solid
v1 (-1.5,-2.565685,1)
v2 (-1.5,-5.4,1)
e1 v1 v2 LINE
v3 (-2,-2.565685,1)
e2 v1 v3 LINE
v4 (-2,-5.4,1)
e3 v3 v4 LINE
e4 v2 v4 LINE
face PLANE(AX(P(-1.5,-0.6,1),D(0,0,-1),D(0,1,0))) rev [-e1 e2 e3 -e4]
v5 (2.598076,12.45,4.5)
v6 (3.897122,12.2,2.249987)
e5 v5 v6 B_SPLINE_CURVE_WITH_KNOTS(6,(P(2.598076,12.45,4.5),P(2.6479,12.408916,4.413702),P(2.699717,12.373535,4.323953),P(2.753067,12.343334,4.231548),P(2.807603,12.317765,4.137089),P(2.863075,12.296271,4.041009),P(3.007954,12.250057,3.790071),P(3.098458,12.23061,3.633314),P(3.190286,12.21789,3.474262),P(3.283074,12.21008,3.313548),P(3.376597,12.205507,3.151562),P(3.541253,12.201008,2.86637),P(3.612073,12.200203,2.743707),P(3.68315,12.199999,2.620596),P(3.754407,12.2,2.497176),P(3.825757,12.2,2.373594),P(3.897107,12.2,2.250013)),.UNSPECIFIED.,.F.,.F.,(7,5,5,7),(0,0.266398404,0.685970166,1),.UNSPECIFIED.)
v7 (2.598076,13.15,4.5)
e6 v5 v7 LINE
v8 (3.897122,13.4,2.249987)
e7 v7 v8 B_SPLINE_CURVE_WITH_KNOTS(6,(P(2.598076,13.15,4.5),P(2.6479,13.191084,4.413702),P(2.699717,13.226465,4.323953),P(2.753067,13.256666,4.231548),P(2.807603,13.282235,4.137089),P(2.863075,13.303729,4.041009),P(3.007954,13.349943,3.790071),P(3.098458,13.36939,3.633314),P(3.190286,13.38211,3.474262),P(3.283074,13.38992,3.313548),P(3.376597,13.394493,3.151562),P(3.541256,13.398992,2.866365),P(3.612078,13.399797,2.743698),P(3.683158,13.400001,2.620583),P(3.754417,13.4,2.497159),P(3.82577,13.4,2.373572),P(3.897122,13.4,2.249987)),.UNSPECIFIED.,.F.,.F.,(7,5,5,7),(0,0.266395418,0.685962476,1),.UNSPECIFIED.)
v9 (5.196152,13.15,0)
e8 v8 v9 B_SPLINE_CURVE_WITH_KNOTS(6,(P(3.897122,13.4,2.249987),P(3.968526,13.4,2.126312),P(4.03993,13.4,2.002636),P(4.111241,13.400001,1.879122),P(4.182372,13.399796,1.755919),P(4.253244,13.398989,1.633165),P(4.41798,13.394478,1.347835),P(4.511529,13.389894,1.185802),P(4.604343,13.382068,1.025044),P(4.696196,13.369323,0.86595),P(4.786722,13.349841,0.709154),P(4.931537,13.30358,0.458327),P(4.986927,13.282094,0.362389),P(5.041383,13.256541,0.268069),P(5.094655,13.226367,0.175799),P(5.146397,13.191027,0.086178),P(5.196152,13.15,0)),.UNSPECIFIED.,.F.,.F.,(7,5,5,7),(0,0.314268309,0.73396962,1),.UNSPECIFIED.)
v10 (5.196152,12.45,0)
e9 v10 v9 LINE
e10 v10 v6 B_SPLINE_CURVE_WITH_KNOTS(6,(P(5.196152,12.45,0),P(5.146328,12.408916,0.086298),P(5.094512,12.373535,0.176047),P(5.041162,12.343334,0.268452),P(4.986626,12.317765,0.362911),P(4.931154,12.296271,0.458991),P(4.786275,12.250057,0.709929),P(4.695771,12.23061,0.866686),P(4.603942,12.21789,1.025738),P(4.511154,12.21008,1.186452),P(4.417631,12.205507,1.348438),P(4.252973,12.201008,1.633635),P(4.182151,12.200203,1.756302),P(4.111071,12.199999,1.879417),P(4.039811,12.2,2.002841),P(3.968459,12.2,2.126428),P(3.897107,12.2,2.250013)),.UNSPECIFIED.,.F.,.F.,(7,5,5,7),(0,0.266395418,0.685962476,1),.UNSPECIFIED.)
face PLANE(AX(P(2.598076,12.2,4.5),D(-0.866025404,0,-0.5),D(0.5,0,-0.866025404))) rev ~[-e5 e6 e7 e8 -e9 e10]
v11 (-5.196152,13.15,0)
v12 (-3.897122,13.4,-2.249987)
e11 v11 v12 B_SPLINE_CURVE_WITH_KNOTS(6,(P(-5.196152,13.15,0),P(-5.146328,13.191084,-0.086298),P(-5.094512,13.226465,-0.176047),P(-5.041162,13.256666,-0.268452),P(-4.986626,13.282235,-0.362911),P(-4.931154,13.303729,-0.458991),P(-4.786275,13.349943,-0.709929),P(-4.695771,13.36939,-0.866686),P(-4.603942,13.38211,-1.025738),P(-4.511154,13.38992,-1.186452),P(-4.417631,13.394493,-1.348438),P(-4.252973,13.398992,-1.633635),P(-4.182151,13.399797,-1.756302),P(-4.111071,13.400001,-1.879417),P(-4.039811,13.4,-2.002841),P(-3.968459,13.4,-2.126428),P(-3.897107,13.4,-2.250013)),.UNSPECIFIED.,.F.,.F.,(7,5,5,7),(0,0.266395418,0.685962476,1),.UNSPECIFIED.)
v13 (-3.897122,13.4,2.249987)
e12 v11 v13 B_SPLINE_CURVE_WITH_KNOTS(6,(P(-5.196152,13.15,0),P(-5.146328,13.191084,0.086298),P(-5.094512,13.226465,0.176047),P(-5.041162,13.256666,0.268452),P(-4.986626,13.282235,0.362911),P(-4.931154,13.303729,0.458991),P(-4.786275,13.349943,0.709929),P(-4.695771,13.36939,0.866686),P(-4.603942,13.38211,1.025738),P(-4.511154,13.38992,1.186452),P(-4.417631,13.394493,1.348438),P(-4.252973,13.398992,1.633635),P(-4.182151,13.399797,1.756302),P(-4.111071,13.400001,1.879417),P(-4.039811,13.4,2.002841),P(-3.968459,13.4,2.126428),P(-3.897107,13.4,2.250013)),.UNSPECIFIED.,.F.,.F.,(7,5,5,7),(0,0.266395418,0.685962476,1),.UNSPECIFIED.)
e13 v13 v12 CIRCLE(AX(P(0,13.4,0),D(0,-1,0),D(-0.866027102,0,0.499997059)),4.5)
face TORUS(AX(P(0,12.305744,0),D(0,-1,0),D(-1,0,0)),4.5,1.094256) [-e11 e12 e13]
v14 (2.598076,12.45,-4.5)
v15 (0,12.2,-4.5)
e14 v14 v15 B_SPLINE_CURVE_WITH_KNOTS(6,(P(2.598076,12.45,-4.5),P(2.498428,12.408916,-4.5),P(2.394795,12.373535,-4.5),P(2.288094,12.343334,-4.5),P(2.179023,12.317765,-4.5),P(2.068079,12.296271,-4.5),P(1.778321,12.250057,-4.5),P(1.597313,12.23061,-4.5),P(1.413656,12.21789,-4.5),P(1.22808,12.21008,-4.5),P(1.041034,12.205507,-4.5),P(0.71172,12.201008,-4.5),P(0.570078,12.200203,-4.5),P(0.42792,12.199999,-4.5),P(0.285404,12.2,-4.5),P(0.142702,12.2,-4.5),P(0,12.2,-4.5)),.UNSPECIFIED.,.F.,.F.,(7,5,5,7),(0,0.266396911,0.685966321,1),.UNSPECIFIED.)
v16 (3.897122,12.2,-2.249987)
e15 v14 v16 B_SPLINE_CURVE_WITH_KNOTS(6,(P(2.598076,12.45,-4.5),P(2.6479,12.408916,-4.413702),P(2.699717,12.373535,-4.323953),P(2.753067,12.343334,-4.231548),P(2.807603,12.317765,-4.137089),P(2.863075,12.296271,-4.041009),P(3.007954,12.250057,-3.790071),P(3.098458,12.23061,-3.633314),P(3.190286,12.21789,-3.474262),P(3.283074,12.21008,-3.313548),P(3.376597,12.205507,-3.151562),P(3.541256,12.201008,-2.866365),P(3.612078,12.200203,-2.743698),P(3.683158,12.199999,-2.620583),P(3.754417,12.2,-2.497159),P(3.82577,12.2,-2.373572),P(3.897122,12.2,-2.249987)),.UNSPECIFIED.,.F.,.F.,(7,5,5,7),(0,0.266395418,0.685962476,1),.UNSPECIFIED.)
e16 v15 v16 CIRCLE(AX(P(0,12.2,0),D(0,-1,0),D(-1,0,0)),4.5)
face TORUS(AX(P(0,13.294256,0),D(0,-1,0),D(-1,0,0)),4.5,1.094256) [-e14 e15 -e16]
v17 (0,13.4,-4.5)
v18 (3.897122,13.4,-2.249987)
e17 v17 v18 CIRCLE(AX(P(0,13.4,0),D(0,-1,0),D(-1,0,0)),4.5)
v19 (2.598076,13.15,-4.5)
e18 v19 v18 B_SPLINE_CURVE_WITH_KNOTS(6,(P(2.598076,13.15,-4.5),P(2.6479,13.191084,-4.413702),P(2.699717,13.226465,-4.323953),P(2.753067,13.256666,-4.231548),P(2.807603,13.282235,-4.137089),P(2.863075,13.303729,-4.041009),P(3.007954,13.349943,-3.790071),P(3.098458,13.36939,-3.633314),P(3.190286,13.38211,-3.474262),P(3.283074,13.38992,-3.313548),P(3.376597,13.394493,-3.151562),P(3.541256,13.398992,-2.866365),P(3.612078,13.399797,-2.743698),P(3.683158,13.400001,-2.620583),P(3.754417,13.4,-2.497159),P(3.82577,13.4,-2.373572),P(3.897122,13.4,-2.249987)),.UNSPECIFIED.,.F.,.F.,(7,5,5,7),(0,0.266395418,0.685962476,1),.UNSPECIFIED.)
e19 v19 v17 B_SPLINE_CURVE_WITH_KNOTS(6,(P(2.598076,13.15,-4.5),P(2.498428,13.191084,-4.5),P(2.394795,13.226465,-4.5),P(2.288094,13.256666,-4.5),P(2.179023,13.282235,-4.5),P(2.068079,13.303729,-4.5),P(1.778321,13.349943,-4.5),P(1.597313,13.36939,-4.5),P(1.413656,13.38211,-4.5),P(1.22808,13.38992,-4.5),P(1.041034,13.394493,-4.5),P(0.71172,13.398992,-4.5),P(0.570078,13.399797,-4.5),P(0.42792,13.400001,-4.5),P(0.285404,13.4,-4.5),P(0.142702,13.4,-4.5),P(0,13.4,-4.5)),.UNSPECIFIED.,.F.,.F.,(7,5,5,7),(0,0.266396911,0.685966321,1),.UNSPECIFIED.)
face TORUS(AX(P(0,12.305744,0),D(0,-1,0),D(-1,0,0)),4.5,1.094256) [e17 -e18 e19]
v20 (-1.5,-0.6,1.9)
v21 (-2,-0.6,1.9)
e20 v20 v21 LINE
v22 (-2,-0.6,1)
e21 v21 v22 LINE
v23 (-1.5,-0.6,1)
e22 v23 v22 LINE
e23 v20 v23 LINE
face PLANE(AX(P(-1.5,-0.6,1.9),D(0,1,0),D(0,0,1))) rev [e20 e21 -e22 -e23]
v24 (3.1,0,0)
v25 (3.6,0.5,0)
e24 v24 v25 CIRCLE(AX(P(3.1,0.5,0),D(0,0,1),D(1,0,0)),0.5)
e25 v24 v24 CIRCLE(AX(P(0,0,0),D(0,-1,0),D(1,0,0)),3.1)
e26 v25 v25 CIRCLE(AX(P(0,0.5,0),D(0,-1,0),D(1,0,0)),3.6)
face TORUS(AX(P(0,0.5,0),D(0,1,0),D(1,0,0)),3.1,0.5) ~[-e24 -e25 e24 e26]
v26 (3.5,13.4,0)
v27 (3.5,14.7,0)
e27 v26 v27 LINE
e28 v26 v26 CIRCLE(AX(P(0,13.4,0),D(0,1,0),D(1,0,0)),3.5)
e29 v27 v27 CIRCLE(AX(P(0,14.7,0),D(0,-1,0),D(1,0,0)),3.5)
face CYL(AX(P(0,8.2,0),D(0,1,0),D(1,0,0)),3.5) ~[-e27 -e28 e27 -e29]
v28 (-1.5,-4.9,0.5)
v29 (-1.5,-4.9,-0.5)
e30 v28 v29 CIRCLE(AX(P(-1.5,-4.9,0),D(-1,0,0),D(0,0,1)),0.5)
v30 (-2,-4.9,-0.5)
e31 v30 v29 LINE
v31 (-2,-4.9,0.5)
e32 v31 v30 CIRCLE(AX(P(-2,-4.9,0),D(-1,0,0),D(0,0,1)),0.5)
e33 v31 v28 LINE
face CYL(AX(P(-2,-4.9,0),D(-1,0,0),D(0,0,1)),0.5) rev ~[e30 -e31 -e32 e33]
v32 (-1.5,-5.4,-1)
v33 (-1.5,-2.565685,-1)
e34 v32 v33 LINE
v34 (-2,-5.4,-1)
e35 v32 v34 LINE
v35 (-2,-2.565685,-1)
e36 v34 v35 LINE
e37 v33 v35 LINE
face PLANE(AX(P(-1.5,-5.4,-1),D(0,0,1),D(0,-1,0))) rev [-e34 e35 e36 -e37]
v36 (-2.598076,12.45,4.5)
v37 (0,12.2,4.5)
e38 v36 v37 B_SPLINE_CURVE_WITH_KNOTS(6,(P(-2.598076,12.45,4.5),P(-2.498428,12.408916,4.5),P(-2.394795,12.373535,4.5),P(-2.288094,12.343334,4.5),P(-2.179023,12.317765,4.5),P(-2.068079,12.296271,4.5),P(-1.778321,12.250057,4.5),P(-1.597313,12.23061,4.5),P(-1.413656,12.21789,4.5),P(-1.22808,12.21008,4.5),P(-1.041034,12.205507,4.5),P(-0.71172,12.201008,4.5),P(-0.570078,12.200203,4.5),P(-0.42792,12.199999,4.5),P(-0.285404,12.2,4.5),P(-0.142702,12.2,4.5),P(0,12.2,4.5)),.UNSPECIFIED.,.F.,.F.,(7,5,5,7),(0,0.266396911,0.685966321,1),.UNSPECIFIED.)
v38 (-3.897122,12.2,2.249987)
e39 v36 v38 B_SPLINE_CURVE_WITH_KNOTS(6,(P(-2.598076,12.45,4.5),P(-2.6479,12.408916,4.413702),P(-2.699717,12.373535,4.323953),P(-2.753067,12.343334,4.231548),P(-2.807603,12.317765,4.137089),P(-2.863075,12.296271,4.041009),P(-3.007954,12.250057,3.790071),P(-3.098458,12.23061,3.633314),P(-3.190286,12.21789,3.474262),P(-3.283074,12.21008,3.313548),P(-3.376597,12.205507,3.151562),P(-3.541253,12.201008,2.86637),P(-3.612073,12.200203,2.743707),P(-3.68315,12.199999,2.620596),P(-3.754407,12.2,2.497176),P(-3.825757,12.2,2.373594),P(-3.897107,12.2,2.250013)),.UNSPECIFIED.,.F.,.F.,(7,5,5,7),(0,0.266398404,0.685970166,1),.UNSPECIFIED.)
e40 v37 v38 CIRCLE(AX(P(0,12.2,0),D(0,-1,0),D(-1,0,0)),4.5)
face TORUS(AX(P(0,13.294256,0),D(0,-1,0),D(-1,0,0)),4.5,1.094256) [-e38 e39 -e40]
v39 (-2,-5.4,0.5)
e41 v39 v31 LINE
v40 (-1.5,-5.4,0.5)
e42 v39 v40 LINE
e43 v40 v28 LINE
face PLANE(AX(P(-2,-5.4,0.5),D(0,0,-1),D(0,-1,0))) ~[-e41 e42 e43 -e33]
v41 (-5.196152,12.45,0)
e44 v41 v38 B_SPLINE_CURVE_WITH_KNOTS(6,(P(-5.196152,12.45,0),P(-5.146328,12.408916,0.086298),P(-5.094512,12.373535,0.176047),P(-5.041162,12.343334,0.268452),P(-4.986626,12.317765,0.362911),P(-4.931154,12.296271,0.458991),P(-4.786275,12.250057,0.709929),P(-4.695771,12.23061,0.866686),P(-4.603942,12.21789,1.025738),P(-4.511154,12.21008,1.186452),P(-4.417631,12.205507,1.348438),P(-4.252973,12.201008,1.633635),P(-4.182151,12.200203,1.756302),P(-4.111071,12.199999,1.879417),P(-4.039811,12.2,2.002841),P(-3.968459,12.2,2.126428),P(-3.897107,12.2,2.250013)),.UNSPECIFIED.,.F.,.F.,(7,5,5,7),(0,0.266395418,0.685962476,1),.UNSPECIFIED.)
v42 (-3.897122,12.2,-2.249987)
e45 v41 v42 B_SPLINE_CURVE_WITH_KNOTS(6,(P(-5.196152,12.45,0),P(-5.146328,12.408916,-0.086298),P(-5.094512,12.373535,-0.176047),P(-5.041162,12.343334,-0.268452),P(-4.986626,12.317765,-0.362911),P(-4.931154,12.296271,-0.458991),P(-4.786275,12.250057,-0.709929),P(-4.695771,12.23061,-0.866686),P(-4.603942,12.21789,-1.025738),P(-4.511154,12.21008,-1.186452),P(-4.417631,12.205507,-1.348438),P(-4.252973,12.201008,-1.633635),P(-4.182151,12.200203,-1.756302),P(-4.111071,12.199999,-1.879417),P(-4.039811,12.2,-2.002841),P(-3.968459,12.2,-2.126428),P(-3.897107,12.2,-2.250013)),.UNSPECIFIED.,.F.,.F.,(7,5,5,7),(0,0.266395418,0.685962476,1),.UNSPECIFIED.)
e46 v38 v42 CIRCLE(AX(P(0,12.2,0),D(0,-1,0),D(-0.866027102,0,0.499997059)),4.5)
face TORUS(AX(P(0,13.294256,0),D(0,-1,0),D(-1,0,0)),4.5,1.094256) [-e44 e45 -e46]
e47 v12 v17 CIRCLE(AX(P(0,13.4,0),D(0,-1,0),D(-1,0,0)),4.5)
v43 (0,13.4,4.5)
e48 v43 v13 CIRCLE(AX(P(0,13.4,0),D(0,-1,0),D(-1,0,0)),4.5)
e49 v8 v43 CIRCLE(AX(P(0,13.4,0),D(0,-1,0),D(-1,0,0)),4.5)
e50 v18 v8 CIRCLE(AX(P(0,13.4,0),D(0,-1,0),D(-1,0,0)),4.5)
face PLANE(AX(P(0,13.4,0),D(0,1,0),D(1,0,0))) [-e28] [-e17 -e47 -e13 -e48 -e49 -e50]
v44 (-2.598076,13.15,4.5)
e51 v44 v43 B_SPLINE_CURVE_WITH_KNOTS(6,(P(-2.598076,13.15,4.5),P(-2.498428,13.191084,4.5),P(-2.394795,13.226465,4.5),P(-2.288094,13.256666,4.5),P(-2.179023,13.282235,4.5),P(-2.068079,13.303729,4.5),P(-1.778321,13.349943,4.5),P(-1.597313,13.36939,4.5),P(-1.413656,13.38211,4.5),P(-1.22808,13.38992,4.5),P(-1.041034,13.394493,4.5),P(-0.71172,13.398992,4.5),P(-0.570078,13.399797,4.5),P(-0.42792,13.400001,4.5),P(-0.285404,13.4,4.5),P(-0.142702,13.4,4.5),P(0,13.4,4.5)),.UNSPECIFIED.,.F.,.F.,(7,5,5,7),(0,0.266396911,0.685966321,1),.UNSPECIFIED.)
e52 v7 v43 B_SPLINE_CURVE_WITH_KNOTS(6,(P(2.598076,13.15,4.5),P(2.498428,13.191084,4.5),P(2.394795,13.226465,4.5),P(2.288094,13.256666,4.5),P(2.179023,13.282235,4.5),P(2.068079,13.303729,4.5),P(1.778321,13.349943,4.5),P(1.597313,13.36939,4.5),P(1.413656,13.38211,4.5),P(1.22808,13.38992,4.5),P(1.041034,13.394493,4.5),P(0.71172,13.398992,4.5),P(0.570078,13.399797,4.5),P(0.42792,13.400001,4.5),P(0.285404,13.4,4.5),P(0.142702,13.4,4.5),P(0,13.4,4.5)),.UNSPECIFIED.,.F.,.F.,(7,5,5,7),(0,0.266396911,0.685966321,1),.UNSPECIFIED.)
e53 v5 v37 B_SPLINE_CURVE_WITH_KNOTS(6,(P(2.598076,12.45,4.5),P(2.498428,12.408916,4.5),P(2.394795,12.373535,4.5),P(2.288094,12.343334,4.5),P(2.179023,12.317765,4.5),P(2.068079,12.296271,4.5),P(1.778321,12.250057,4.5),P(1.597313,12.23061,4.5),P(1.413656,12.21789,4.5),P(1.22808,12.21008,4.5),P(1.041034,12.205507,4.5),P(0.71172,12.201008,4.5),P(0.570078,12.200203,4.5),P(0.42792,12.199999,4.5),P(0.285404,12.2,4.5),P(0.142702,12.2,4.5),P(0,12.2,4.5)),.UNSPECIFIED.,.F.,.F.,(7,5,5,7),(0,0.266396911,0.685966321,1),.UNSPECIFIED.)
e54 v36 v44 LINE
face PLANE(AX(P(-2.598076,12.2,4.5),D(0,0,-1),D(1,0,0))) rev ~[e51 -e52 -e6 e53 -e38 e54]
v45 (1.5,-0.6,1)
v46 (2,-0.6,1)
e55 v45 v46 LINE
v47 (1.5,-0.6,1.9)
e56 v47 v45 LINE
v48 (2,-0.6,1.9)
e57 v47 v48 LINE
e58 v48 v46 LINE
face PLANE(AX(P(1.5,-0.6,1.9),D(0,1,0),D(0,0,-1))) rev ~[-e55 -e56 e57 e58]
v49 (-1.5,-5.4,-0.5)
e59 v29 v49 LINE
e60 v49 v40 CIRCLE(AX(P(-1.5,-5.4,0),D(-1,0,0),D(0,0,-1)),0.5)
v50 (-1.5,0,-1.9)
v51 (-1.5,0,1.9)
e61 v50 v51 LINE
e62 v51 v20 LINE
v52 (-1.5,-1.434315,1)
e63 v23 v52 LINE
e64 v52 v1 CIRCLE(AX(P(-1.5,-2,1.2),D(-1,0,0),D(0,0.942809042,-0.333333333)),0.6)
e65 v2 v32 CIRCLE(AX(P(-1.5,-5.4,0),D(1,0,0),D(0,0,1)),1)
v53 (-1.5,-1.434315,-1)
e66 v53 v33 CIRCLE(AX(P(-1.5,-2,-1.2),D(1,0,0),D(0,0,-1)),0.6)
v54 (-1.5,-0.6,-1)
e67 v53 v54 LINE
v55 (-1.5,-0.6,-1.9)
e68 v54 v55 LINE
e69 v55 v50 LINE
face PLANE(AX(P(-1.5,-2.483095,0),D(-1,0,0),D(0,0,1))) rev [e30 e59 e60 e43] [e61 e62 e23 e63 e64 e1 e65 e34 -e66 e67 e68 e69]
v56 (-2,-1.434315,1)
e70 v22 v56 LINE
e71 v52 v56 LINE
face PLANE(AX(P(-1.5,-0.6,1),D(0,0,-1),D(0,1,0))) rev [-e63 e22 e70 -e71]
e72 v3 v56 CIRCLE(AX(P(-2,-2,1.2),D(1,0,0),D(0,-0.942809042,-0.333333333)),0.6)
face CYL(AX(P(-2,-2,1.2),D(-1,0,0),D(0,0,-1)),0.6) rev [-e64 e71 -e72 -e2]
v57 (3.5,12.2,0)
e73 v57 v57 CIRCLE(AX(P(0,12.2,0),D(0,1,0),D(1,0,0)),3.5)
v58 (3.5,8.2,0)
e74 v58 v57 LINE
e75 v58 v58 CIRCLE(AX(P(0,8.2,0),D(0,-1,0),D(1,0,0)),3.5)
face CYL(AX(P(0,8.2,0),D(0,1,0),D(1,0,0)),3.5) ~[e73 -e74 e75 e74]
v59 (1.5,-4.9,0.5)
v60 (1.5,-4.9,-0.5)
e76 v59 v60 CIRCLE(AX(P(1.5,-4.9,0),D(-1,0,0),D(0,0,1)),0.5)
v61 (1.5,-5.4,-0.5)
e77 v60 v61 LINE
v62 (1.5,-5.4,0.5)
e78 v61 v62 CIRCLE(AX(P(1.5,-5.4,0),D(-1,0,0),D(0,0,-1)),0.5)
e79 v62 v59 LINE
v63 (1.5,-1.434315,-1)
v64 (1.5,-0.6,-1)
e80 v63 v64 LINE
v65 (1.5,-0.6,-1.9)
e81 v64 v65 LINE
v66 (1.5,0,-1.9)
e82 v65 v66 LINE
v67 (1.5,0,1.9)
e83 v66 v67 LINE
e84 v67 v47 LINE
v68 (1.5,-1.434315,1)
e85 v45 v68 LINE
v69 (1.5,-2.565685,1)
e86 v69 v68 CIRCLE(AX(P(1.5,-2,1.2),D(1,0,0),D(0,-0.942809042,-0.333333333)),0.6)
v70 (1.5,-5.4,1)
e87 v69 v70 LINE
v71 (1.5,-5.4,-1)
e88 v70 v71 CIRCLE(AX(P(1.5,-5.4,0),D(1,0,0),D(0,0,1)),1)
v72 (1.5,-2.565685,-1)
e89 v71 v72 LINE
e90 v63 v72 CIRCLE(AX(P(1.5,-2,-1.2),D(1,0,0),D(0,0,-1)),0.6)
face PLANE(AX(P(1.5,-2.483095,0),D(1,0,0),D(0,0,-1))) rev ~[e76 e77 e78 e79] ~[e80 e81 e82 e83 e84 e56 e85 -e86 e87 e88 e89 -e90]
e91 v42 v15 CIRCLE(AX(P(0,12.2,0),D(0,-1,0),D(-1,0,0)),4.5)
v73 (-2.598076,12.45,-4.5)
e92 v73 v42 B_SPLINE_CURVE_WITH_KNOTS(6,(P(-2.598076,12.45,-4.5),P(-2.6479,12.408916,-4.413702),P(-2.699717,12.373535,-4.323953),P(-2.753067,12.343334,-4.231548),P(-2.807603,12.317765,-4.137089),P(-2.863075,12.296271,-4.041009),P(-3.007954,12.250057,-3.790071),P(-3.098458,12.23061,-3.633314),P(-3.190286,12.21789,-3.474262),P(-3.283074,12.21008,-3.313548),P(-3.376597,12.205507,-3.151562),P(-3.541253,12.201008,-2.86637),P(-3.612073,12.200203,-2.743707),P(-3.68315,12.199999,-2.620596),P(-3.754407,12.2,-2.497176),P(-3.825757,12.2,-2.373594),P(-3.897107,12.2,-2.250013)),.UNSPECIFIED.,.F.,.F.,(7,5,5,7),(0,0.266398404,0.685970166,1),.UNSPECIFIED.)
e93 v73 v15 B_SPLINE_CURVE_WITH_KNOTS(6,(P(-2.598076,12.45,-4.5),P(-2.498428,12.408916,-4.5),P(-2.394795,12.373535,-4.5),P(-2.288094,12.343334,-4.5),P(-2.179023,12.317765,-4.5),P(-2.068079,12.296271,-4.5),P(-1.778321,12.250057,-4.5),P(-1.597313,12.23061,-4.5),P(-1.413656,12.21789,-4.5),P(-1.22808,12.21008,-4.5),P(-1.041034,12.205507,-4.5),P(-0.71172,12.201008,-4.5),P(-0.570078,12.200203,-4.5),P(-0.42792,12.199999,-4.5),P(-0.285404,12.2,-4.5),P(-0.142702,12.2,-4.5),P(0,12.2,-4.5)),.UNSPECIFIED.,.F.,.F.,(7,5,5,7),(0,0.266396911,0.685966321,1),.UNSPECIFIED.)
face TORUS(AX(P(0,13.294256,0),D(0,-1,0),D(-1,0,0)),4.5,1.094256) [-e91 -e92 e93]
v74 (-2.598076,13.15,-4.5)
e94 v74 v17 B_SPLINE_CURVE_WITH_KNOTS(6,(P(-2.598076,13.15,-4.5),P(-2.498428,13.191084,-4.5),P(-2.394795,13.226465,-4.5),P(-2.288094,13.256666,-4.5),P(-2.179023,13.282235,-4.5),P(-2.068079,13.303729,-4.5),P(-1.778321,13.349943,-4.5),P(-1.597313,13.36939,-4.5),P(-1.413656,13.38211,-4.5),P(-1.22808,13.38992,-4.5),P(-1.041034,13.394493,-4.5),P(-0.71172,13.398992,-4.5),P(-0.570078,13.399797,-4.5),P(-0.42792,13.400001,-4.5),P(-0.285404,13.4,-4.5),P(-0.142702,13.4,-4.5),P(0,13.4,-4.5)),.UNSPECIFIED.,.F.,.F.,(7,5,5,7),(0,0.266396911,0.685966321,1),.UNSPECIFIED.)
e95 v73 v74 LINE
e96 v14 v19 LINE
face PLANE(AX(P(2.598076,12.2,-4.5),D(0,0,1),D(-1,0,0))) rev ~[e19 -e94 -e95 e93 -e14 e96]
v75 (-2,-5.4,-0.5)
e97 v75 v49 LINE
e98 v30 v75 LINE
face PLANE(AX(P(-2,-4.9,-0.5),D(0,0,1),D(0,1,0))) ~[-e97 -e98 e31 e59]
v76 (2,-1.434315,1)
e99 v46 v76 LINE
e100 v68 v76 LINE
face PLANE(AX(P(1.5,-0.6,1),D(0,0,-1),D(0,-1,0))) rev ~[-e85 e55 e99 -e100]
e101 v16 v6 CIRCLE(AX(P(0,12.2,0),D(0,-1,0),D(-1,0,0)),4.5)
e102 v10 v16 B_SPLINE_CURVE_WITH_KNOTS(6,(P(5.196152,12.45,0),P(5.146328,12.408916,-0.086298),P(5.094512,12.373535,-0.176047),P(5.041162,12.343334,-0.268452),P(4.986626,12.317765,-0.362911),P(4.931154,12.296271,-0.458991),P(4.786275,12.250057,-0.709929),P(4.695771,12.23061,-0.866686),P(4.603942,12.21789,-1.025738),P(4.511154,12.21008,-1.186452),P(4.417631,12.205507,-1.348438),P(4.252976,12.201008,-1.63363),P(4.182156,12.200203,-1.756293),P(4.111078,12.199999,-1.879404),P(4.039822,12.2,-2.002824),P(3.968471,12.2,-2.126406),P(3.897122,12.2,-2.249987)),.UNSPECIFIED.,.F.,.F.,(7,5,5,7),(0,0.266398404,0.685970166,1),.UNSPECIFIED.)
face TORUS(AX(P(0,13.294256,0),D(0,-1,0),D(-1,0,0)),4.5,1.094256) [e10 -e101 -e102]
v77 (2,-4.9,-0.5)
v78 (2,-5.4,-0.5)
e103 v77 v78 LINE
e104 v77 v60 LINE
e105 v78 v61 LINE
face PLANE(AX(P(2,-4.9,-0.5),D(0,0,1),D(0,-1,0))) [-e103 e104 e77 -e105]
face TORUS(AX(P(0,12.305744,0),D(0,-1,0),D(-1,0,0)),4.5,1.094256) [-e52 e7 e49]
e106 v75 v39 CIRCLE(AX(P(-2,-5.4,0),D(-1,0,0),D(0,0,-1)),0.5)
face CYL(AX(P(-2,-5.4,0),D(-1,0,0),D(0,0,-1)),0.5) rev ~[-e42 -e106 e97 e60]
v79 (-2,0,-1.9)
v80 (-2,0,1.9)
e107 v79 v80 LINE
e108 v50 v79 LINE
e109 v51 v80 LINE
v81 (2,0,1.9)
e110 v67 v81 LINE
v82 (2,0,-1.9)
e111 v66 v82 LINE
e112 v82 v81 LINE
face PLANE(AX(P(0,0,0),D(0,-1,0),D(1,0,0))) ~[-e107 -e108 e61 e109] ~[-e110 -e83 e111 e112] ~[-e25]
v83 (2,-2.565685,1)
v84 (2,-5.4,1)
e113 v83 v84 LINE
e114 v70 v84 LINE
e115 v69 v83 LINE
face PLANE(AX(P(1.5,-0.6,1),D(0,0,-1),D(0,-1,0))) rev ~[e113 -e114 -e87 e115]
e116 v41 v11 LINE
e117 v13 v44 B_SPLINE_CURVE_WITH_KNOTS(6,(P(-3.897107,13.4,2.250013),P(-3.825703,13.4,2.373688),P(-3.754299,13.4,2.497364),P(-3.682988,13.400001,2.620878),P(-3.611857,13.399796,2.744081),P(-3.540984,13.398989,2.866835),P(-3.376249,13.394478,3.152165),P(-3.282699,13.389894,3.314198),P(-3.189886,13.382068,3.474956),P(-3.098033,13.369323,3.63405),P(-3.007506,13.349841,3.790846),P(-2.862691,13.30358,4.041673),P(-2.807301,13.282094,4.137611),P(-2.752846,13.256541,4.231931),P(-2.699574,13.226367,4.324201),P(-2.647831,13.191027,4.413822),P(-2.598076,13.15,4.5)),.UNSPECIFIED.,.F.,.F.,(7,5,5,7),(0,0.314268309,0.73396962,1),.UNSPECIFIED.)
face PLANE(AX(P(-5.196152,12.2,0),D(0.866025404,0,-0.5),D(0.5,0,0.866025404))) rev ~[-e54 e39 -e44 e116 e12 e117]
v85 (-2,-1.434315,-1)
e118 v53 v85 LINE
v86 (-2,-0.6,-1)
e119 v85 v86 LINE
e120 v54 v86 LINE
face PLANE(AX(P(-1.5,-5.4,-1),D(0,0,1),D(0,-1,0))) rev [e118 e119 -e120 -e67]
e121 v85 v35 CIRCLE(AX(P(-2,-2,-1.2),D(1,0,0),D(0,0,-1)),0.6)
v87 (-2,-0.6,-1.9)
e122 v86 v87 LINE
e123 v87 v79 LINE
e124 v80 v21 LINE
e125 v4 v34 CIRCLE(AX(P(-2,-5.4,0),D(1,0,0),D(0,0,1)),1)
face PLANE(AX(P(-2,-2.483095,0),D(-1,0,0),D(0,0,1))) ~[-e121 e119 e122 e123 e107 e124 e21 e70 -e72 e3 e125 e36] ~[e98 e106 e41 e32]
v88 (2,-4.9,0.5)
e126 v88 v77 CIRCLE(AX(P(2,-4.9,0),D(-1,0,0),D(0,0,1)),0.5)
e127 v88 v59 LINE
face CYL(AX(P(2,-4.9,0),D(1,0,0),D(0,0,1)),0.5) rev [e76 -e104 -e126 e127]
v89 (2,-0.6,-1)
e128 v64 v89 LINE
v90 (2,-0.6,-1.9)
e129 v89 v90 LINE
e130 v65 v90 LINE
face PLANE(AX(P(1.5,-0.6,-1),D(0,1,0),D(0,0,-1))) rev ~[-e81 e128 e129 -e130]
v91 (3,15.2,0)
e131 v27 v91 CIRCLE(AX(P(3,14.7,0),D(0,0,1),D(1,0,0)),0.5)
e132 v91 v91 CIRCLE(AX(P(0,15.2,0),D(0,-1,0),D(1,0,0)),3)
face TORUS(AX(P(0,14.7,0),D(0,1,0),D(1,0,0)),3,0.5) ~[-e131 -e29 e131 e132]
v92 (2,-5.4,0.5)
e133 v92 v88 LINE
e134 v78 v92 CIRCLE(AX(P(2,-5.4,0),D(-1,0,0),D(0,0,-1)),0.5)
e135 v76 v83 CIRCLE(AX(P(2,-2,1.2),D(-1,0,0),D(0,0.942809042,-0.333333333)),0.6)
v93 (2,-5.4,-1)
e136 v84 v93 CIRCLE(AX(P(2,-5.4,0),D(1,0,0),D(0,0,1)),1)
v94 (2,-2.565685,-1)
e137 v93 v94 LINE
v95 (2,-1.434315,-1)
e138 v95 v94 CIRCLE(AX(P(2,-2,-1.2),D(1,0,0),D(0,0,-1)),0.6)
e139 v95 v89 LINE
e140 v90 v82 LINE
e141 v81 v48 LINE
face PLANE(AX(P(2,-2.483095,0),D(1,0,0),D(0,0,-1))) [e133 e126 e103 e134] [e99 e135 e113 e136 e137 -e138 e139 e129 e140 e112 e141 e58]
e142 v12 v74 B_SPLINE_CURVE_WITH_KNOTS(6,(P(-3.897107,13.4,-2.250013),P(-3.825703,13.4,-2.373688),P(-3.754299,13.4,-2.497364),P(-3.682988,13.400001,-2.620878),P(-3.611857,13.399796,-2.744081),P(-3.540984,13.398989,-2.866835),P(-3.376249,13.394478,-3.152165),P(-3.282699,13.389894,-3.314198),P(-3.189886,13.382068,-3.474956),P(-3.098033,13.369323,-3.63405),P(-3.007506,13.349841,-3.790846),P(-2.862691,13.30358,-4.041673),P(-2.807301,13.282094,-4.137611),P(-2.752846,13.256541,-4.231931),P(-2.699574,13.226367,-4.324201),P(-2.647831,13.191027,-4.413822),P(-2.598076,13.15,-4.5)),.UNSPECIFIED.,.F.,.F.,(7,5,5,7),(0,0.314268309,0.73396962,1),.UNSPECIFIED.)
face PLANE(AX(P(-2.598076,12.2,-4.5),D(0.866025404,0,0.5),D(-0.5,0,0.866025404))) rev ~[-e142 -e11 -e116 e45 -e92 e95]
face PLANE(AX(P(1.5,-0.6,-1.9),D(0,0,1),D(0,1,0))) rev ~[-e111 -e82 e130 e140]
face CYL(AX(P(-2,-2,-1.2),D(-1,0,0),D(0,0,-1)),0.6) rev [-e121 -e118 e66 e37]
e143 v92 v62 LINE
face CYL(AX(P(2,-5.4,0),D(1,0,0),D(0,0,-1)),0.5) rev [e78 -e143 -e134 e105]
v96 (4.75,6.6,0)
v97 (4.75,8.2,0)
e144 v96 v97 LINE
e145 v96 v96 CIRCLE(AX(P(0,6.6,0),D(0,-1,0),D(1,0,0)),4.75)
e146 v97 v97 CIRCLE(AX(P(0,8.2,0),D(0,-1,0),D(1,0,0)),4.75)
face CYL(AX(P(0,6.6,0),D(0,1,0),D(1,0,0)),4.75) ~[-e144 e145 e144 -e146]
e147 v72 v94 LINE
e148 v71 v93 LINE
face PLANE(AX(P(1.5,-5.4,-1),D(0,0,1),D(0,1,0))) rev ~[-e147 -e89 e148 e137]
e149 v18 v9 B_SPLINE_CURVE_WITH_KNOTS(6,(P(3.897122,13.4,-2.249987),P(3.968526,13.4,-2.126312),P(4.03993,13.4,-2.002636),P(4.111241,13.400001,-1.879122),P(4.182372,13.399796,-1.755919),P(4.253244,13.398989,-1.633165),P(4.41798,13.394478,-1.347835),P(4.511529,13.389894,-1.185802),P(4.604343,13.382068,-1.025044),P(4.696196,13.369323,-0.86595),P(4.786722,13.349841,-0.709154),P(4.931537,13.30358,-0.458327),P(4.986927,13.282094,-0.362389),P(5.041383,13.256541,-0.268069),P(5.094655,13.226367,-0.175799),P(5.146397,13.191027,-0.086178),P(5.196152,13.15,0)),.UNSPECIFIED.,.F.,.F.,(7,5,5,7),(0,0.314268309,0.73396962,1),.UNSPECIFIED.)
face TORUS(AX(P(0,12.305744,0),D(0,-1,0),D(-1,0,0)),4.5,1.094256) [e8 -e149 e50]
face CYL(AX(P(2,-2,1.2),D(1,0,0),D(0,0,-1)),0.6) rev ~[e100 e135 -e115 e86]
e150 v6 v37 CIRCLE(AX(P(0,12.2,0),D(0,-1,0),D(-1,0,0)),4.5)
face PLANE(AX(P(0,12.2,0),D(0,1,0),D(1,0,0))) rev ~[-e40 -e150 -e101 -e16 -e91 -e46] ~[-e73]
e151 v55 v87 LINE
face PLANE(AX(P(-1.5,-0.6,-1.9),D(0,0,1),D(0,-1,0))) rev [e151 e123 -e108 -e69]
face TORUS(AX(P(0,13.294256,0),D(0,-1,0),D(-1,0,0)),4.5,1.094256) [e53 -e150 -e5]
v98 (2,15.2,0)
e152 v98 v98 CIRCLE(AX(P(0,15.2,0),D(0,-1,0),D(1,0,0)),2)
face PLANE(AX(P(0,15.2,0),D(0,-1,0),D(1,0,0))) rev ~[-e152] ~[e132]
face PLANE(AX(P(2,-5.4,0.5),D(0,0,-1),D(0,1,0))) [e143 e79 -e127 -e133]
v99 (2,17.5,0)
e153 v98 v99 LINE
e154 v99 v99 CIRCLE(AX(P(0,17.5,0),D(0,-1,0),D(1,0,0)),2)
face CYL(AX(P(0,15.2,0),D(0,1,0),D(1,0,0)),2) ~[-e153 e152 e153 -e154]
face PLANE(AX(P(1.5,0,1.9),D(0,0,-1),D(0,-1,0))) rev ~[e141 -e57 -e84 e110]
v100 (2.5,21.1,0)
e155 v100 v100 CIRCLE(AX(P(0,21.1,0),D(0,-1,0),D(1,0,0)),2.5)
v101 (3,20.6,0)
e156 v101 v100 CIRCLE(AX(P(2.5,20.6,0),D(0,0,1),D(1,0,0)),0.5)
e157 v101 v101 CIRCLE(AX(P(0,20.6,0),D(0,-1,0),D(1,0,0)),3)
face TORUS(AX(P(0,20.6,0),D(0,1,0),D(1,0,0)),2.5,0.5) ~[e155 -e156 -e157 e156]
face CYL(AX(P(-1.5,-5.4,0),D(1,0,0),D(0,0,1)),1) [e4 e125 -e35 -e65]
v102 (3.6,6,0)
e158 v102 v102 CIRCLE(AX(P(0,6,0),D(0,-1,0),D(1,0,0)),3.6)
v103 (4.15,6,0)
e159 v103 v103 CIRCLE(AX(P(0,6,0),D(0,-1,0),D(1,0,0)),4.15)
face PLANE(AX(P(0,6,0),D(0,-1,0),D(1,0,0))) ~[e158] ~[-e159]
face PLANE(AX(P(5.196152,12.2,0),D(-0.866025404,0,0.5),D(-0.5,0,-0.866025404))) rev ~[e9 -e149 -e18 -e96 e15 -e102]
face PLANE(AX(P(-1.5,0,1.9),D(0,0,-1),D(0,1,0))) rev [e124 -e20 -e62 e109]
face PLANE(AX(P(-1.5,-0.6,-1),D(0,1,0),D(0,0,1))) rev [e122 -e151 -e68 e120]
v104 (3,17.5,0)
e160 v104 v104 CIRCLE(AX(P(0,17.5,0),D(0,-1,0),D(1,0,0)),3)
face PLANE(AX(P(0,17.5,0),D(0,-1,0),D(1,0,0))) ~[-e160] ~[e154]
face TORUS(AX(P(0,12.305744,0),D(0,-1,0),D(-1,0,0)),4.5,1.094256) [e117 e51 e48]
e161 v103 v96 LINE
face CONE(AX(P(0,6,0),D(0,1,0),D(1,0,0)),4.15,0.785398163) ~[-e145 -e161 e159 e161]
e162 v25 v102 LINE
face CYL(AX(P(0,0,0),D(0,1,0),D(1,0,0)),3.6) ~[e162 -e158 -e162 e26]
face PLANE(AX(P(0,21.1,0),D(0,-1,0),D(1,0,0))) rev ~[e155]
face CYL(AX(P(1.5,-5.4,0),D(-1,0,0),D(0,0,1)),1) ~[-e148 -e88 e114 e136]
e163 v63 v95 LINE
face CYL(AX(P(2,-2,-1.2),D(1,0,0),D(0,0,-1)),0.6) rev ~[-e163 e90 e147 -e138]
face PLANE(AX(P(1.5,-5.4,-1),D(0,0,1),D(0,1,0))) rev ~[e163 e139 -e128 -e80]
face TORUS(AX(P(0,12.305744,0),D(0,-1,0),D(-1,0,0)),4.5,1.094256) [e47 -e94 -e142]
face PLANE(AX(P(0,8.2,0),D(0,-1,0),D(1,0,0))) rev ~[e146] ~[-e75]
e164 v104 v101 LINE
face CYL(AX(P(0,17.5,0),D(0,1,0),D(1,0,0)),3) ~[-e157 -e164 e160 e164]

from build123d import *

# Parameters (mm, degrees)
FILLET1_R           = 0.5
BOSS_EXTRUDE1_START = 1.5
BOSS_EXTRUDE1_DEPTH = 0.5
SKETCH3_R           = 0.6
CUT_EXTRUDE1_DEPTH  = 0.5
BOSS_EXTRUDE2_START = 4
SKETCH4_R           = 3.5
BOSS_EXTRUDE2_DEPTH = 1.2


with BuildPart() as part:
    # Sketch1 → Revolve1 (revolve)
    with BuildSketch(Plane.XY):
        Polygon((0, 0), (3.6, 0), (3.6, 6), (4.15, 6), (4.75, 6.6), (4.75, 8.2), (3.5, 8.2), (3.5, 15.2), (2, 15.2), (2, 17.5), (3, 17.5), (3, 21.1), (0, 21.1), align=None)
    revolve(axis=Axis((0, 21.1, 0), (0, -1, 0)))

    # Fillet1
    fillet1_edges = [part.edges().sort_by_distance(p)[0] for p in [
        (-3.5, 15.2, 0),
        (-3.6, 0, 0),
        (-3, 21.1, 0),
    ]]
    fillet(fillet1_edges, radius=FILLET1_R)

    # Sketch2 → Boss-Extrude1 (add)
    with BuildSketch(Plane(origin=(0, 0, 0), x_dir=(0, 0, -1), z_dir=(1, 0, 0)).offset(BOSS_EXTRUDE1_START)):
        with BuildLine():
            Line((-1.9, 0), (-1.9, -0.6))
            Line((-1.9, -0.6), (-1, -0.6))
            Line((-1, -0.6), (-1, -5.4))
            ThreePointArc((-1, -5.4), (0, -6.4), (1, -5.4))
            Line((1, -5.4), (1, -0.6))
            Line((1, -0.6), (1.9, -0.6))
            Line((1.9, -0.6), (1.9, 0))
            Line((1.9, 0), (-1.9, 0))
        make_face()
    boss_extrude1 = extrude(amount=BOSS_EXTRUDE1_DEPTH)

    # Sketch3 → Cut-Extrude1 (cut)
    with BuildSketch(Plane(origin=(2, 0, 0), x_dir=(0, 0, -1), z_dir=(1, 0, 0))):
        with Locations((-1.2, -2)):
            Circle(SKETCH3_R)
        with Locations((1.2, -2)):
            Circle(SKETCH3_R)
        with BuildLine():
            Line((-0.5, -5.4), (-0.5, -4.9))
            ThreePointArc((-0.5, -4.9), (0, -4.4), (0.5, -4.9))
            Line((0.5, -4.9), (0.5, -5.4))
            ThreePointArc((0.5, -5.4), (0, -5.9), (-0.5, -5.4))
        make_face()
    cut_extrude1 = extrude(amount=-CUT_EXTRUDE1_DEPTH, mode=Mode.SUBTRACT)

    # Mirror1: Boss-Extrude1, Cut-Extrude1 across plane
    add(boss_extrude1.mirror(Plane(origin=(0, 0, 0), x_dir=(0, 0, 1), z_dir=(1, 0, 0))))
    add(cut_extrude1.mirror(Plane(origin=(0, 0, 0), x_dir=(0, 0, 1), z_dir=(1, 0, 0))), mode=Mode.SUBTRACT)

    # Sketch4 → Boss-Extrude2 (add)
    with BuildSketch(Plane(origin=(0, 8.2, 0), x_dir=(1, 0, 0), z_dir=(0, 1, 0)).offset(BOSS_EXTRUDE2_START)):
        Polygon((5.196152423, 0), (2.598076211, 4.5), (-2.598076211, 4.5), (-5.196152423, 0), (-2.598076211, -4.5), (2.598076211, -4.5), align=None)
        Circle(SKETCH4_R, mode=Mode.SUBTRACT)
    extrude(amount=BOSS_EXTRUDE2_DEPTH)

    # Sketch5 → Cut-Revolve1 (revolve, cut)
    with BuildSketch(Plane.XY):
        with BuildLine():
            Line((-5.196152423, 13.4), (-4.5, 13.4))
            ThreePointArc((-4.5, 13.4), (-4.869840572, 13.33560525), (-5.196152423, 13.15))
            Line((-5.196152423, 13.15), (-5.196152423, 13.4))
        make_face()
        with BuildLine():
            Line((-4.5, 12.2), (-5.196152423, 12.2))
            Line((-5.196152423, 12.2), (-5.196152423, 12.45))
            ThreePointArc((-5.196152423, 12.45), (-4.869840572, 12.26439475), (-4.5, 12.2))
        make_face()
    revolve(axis=Axis((0, 13.4, 0), (0, -1, 0)), mode=Mode.SUBTRACT)


solid = part.part
